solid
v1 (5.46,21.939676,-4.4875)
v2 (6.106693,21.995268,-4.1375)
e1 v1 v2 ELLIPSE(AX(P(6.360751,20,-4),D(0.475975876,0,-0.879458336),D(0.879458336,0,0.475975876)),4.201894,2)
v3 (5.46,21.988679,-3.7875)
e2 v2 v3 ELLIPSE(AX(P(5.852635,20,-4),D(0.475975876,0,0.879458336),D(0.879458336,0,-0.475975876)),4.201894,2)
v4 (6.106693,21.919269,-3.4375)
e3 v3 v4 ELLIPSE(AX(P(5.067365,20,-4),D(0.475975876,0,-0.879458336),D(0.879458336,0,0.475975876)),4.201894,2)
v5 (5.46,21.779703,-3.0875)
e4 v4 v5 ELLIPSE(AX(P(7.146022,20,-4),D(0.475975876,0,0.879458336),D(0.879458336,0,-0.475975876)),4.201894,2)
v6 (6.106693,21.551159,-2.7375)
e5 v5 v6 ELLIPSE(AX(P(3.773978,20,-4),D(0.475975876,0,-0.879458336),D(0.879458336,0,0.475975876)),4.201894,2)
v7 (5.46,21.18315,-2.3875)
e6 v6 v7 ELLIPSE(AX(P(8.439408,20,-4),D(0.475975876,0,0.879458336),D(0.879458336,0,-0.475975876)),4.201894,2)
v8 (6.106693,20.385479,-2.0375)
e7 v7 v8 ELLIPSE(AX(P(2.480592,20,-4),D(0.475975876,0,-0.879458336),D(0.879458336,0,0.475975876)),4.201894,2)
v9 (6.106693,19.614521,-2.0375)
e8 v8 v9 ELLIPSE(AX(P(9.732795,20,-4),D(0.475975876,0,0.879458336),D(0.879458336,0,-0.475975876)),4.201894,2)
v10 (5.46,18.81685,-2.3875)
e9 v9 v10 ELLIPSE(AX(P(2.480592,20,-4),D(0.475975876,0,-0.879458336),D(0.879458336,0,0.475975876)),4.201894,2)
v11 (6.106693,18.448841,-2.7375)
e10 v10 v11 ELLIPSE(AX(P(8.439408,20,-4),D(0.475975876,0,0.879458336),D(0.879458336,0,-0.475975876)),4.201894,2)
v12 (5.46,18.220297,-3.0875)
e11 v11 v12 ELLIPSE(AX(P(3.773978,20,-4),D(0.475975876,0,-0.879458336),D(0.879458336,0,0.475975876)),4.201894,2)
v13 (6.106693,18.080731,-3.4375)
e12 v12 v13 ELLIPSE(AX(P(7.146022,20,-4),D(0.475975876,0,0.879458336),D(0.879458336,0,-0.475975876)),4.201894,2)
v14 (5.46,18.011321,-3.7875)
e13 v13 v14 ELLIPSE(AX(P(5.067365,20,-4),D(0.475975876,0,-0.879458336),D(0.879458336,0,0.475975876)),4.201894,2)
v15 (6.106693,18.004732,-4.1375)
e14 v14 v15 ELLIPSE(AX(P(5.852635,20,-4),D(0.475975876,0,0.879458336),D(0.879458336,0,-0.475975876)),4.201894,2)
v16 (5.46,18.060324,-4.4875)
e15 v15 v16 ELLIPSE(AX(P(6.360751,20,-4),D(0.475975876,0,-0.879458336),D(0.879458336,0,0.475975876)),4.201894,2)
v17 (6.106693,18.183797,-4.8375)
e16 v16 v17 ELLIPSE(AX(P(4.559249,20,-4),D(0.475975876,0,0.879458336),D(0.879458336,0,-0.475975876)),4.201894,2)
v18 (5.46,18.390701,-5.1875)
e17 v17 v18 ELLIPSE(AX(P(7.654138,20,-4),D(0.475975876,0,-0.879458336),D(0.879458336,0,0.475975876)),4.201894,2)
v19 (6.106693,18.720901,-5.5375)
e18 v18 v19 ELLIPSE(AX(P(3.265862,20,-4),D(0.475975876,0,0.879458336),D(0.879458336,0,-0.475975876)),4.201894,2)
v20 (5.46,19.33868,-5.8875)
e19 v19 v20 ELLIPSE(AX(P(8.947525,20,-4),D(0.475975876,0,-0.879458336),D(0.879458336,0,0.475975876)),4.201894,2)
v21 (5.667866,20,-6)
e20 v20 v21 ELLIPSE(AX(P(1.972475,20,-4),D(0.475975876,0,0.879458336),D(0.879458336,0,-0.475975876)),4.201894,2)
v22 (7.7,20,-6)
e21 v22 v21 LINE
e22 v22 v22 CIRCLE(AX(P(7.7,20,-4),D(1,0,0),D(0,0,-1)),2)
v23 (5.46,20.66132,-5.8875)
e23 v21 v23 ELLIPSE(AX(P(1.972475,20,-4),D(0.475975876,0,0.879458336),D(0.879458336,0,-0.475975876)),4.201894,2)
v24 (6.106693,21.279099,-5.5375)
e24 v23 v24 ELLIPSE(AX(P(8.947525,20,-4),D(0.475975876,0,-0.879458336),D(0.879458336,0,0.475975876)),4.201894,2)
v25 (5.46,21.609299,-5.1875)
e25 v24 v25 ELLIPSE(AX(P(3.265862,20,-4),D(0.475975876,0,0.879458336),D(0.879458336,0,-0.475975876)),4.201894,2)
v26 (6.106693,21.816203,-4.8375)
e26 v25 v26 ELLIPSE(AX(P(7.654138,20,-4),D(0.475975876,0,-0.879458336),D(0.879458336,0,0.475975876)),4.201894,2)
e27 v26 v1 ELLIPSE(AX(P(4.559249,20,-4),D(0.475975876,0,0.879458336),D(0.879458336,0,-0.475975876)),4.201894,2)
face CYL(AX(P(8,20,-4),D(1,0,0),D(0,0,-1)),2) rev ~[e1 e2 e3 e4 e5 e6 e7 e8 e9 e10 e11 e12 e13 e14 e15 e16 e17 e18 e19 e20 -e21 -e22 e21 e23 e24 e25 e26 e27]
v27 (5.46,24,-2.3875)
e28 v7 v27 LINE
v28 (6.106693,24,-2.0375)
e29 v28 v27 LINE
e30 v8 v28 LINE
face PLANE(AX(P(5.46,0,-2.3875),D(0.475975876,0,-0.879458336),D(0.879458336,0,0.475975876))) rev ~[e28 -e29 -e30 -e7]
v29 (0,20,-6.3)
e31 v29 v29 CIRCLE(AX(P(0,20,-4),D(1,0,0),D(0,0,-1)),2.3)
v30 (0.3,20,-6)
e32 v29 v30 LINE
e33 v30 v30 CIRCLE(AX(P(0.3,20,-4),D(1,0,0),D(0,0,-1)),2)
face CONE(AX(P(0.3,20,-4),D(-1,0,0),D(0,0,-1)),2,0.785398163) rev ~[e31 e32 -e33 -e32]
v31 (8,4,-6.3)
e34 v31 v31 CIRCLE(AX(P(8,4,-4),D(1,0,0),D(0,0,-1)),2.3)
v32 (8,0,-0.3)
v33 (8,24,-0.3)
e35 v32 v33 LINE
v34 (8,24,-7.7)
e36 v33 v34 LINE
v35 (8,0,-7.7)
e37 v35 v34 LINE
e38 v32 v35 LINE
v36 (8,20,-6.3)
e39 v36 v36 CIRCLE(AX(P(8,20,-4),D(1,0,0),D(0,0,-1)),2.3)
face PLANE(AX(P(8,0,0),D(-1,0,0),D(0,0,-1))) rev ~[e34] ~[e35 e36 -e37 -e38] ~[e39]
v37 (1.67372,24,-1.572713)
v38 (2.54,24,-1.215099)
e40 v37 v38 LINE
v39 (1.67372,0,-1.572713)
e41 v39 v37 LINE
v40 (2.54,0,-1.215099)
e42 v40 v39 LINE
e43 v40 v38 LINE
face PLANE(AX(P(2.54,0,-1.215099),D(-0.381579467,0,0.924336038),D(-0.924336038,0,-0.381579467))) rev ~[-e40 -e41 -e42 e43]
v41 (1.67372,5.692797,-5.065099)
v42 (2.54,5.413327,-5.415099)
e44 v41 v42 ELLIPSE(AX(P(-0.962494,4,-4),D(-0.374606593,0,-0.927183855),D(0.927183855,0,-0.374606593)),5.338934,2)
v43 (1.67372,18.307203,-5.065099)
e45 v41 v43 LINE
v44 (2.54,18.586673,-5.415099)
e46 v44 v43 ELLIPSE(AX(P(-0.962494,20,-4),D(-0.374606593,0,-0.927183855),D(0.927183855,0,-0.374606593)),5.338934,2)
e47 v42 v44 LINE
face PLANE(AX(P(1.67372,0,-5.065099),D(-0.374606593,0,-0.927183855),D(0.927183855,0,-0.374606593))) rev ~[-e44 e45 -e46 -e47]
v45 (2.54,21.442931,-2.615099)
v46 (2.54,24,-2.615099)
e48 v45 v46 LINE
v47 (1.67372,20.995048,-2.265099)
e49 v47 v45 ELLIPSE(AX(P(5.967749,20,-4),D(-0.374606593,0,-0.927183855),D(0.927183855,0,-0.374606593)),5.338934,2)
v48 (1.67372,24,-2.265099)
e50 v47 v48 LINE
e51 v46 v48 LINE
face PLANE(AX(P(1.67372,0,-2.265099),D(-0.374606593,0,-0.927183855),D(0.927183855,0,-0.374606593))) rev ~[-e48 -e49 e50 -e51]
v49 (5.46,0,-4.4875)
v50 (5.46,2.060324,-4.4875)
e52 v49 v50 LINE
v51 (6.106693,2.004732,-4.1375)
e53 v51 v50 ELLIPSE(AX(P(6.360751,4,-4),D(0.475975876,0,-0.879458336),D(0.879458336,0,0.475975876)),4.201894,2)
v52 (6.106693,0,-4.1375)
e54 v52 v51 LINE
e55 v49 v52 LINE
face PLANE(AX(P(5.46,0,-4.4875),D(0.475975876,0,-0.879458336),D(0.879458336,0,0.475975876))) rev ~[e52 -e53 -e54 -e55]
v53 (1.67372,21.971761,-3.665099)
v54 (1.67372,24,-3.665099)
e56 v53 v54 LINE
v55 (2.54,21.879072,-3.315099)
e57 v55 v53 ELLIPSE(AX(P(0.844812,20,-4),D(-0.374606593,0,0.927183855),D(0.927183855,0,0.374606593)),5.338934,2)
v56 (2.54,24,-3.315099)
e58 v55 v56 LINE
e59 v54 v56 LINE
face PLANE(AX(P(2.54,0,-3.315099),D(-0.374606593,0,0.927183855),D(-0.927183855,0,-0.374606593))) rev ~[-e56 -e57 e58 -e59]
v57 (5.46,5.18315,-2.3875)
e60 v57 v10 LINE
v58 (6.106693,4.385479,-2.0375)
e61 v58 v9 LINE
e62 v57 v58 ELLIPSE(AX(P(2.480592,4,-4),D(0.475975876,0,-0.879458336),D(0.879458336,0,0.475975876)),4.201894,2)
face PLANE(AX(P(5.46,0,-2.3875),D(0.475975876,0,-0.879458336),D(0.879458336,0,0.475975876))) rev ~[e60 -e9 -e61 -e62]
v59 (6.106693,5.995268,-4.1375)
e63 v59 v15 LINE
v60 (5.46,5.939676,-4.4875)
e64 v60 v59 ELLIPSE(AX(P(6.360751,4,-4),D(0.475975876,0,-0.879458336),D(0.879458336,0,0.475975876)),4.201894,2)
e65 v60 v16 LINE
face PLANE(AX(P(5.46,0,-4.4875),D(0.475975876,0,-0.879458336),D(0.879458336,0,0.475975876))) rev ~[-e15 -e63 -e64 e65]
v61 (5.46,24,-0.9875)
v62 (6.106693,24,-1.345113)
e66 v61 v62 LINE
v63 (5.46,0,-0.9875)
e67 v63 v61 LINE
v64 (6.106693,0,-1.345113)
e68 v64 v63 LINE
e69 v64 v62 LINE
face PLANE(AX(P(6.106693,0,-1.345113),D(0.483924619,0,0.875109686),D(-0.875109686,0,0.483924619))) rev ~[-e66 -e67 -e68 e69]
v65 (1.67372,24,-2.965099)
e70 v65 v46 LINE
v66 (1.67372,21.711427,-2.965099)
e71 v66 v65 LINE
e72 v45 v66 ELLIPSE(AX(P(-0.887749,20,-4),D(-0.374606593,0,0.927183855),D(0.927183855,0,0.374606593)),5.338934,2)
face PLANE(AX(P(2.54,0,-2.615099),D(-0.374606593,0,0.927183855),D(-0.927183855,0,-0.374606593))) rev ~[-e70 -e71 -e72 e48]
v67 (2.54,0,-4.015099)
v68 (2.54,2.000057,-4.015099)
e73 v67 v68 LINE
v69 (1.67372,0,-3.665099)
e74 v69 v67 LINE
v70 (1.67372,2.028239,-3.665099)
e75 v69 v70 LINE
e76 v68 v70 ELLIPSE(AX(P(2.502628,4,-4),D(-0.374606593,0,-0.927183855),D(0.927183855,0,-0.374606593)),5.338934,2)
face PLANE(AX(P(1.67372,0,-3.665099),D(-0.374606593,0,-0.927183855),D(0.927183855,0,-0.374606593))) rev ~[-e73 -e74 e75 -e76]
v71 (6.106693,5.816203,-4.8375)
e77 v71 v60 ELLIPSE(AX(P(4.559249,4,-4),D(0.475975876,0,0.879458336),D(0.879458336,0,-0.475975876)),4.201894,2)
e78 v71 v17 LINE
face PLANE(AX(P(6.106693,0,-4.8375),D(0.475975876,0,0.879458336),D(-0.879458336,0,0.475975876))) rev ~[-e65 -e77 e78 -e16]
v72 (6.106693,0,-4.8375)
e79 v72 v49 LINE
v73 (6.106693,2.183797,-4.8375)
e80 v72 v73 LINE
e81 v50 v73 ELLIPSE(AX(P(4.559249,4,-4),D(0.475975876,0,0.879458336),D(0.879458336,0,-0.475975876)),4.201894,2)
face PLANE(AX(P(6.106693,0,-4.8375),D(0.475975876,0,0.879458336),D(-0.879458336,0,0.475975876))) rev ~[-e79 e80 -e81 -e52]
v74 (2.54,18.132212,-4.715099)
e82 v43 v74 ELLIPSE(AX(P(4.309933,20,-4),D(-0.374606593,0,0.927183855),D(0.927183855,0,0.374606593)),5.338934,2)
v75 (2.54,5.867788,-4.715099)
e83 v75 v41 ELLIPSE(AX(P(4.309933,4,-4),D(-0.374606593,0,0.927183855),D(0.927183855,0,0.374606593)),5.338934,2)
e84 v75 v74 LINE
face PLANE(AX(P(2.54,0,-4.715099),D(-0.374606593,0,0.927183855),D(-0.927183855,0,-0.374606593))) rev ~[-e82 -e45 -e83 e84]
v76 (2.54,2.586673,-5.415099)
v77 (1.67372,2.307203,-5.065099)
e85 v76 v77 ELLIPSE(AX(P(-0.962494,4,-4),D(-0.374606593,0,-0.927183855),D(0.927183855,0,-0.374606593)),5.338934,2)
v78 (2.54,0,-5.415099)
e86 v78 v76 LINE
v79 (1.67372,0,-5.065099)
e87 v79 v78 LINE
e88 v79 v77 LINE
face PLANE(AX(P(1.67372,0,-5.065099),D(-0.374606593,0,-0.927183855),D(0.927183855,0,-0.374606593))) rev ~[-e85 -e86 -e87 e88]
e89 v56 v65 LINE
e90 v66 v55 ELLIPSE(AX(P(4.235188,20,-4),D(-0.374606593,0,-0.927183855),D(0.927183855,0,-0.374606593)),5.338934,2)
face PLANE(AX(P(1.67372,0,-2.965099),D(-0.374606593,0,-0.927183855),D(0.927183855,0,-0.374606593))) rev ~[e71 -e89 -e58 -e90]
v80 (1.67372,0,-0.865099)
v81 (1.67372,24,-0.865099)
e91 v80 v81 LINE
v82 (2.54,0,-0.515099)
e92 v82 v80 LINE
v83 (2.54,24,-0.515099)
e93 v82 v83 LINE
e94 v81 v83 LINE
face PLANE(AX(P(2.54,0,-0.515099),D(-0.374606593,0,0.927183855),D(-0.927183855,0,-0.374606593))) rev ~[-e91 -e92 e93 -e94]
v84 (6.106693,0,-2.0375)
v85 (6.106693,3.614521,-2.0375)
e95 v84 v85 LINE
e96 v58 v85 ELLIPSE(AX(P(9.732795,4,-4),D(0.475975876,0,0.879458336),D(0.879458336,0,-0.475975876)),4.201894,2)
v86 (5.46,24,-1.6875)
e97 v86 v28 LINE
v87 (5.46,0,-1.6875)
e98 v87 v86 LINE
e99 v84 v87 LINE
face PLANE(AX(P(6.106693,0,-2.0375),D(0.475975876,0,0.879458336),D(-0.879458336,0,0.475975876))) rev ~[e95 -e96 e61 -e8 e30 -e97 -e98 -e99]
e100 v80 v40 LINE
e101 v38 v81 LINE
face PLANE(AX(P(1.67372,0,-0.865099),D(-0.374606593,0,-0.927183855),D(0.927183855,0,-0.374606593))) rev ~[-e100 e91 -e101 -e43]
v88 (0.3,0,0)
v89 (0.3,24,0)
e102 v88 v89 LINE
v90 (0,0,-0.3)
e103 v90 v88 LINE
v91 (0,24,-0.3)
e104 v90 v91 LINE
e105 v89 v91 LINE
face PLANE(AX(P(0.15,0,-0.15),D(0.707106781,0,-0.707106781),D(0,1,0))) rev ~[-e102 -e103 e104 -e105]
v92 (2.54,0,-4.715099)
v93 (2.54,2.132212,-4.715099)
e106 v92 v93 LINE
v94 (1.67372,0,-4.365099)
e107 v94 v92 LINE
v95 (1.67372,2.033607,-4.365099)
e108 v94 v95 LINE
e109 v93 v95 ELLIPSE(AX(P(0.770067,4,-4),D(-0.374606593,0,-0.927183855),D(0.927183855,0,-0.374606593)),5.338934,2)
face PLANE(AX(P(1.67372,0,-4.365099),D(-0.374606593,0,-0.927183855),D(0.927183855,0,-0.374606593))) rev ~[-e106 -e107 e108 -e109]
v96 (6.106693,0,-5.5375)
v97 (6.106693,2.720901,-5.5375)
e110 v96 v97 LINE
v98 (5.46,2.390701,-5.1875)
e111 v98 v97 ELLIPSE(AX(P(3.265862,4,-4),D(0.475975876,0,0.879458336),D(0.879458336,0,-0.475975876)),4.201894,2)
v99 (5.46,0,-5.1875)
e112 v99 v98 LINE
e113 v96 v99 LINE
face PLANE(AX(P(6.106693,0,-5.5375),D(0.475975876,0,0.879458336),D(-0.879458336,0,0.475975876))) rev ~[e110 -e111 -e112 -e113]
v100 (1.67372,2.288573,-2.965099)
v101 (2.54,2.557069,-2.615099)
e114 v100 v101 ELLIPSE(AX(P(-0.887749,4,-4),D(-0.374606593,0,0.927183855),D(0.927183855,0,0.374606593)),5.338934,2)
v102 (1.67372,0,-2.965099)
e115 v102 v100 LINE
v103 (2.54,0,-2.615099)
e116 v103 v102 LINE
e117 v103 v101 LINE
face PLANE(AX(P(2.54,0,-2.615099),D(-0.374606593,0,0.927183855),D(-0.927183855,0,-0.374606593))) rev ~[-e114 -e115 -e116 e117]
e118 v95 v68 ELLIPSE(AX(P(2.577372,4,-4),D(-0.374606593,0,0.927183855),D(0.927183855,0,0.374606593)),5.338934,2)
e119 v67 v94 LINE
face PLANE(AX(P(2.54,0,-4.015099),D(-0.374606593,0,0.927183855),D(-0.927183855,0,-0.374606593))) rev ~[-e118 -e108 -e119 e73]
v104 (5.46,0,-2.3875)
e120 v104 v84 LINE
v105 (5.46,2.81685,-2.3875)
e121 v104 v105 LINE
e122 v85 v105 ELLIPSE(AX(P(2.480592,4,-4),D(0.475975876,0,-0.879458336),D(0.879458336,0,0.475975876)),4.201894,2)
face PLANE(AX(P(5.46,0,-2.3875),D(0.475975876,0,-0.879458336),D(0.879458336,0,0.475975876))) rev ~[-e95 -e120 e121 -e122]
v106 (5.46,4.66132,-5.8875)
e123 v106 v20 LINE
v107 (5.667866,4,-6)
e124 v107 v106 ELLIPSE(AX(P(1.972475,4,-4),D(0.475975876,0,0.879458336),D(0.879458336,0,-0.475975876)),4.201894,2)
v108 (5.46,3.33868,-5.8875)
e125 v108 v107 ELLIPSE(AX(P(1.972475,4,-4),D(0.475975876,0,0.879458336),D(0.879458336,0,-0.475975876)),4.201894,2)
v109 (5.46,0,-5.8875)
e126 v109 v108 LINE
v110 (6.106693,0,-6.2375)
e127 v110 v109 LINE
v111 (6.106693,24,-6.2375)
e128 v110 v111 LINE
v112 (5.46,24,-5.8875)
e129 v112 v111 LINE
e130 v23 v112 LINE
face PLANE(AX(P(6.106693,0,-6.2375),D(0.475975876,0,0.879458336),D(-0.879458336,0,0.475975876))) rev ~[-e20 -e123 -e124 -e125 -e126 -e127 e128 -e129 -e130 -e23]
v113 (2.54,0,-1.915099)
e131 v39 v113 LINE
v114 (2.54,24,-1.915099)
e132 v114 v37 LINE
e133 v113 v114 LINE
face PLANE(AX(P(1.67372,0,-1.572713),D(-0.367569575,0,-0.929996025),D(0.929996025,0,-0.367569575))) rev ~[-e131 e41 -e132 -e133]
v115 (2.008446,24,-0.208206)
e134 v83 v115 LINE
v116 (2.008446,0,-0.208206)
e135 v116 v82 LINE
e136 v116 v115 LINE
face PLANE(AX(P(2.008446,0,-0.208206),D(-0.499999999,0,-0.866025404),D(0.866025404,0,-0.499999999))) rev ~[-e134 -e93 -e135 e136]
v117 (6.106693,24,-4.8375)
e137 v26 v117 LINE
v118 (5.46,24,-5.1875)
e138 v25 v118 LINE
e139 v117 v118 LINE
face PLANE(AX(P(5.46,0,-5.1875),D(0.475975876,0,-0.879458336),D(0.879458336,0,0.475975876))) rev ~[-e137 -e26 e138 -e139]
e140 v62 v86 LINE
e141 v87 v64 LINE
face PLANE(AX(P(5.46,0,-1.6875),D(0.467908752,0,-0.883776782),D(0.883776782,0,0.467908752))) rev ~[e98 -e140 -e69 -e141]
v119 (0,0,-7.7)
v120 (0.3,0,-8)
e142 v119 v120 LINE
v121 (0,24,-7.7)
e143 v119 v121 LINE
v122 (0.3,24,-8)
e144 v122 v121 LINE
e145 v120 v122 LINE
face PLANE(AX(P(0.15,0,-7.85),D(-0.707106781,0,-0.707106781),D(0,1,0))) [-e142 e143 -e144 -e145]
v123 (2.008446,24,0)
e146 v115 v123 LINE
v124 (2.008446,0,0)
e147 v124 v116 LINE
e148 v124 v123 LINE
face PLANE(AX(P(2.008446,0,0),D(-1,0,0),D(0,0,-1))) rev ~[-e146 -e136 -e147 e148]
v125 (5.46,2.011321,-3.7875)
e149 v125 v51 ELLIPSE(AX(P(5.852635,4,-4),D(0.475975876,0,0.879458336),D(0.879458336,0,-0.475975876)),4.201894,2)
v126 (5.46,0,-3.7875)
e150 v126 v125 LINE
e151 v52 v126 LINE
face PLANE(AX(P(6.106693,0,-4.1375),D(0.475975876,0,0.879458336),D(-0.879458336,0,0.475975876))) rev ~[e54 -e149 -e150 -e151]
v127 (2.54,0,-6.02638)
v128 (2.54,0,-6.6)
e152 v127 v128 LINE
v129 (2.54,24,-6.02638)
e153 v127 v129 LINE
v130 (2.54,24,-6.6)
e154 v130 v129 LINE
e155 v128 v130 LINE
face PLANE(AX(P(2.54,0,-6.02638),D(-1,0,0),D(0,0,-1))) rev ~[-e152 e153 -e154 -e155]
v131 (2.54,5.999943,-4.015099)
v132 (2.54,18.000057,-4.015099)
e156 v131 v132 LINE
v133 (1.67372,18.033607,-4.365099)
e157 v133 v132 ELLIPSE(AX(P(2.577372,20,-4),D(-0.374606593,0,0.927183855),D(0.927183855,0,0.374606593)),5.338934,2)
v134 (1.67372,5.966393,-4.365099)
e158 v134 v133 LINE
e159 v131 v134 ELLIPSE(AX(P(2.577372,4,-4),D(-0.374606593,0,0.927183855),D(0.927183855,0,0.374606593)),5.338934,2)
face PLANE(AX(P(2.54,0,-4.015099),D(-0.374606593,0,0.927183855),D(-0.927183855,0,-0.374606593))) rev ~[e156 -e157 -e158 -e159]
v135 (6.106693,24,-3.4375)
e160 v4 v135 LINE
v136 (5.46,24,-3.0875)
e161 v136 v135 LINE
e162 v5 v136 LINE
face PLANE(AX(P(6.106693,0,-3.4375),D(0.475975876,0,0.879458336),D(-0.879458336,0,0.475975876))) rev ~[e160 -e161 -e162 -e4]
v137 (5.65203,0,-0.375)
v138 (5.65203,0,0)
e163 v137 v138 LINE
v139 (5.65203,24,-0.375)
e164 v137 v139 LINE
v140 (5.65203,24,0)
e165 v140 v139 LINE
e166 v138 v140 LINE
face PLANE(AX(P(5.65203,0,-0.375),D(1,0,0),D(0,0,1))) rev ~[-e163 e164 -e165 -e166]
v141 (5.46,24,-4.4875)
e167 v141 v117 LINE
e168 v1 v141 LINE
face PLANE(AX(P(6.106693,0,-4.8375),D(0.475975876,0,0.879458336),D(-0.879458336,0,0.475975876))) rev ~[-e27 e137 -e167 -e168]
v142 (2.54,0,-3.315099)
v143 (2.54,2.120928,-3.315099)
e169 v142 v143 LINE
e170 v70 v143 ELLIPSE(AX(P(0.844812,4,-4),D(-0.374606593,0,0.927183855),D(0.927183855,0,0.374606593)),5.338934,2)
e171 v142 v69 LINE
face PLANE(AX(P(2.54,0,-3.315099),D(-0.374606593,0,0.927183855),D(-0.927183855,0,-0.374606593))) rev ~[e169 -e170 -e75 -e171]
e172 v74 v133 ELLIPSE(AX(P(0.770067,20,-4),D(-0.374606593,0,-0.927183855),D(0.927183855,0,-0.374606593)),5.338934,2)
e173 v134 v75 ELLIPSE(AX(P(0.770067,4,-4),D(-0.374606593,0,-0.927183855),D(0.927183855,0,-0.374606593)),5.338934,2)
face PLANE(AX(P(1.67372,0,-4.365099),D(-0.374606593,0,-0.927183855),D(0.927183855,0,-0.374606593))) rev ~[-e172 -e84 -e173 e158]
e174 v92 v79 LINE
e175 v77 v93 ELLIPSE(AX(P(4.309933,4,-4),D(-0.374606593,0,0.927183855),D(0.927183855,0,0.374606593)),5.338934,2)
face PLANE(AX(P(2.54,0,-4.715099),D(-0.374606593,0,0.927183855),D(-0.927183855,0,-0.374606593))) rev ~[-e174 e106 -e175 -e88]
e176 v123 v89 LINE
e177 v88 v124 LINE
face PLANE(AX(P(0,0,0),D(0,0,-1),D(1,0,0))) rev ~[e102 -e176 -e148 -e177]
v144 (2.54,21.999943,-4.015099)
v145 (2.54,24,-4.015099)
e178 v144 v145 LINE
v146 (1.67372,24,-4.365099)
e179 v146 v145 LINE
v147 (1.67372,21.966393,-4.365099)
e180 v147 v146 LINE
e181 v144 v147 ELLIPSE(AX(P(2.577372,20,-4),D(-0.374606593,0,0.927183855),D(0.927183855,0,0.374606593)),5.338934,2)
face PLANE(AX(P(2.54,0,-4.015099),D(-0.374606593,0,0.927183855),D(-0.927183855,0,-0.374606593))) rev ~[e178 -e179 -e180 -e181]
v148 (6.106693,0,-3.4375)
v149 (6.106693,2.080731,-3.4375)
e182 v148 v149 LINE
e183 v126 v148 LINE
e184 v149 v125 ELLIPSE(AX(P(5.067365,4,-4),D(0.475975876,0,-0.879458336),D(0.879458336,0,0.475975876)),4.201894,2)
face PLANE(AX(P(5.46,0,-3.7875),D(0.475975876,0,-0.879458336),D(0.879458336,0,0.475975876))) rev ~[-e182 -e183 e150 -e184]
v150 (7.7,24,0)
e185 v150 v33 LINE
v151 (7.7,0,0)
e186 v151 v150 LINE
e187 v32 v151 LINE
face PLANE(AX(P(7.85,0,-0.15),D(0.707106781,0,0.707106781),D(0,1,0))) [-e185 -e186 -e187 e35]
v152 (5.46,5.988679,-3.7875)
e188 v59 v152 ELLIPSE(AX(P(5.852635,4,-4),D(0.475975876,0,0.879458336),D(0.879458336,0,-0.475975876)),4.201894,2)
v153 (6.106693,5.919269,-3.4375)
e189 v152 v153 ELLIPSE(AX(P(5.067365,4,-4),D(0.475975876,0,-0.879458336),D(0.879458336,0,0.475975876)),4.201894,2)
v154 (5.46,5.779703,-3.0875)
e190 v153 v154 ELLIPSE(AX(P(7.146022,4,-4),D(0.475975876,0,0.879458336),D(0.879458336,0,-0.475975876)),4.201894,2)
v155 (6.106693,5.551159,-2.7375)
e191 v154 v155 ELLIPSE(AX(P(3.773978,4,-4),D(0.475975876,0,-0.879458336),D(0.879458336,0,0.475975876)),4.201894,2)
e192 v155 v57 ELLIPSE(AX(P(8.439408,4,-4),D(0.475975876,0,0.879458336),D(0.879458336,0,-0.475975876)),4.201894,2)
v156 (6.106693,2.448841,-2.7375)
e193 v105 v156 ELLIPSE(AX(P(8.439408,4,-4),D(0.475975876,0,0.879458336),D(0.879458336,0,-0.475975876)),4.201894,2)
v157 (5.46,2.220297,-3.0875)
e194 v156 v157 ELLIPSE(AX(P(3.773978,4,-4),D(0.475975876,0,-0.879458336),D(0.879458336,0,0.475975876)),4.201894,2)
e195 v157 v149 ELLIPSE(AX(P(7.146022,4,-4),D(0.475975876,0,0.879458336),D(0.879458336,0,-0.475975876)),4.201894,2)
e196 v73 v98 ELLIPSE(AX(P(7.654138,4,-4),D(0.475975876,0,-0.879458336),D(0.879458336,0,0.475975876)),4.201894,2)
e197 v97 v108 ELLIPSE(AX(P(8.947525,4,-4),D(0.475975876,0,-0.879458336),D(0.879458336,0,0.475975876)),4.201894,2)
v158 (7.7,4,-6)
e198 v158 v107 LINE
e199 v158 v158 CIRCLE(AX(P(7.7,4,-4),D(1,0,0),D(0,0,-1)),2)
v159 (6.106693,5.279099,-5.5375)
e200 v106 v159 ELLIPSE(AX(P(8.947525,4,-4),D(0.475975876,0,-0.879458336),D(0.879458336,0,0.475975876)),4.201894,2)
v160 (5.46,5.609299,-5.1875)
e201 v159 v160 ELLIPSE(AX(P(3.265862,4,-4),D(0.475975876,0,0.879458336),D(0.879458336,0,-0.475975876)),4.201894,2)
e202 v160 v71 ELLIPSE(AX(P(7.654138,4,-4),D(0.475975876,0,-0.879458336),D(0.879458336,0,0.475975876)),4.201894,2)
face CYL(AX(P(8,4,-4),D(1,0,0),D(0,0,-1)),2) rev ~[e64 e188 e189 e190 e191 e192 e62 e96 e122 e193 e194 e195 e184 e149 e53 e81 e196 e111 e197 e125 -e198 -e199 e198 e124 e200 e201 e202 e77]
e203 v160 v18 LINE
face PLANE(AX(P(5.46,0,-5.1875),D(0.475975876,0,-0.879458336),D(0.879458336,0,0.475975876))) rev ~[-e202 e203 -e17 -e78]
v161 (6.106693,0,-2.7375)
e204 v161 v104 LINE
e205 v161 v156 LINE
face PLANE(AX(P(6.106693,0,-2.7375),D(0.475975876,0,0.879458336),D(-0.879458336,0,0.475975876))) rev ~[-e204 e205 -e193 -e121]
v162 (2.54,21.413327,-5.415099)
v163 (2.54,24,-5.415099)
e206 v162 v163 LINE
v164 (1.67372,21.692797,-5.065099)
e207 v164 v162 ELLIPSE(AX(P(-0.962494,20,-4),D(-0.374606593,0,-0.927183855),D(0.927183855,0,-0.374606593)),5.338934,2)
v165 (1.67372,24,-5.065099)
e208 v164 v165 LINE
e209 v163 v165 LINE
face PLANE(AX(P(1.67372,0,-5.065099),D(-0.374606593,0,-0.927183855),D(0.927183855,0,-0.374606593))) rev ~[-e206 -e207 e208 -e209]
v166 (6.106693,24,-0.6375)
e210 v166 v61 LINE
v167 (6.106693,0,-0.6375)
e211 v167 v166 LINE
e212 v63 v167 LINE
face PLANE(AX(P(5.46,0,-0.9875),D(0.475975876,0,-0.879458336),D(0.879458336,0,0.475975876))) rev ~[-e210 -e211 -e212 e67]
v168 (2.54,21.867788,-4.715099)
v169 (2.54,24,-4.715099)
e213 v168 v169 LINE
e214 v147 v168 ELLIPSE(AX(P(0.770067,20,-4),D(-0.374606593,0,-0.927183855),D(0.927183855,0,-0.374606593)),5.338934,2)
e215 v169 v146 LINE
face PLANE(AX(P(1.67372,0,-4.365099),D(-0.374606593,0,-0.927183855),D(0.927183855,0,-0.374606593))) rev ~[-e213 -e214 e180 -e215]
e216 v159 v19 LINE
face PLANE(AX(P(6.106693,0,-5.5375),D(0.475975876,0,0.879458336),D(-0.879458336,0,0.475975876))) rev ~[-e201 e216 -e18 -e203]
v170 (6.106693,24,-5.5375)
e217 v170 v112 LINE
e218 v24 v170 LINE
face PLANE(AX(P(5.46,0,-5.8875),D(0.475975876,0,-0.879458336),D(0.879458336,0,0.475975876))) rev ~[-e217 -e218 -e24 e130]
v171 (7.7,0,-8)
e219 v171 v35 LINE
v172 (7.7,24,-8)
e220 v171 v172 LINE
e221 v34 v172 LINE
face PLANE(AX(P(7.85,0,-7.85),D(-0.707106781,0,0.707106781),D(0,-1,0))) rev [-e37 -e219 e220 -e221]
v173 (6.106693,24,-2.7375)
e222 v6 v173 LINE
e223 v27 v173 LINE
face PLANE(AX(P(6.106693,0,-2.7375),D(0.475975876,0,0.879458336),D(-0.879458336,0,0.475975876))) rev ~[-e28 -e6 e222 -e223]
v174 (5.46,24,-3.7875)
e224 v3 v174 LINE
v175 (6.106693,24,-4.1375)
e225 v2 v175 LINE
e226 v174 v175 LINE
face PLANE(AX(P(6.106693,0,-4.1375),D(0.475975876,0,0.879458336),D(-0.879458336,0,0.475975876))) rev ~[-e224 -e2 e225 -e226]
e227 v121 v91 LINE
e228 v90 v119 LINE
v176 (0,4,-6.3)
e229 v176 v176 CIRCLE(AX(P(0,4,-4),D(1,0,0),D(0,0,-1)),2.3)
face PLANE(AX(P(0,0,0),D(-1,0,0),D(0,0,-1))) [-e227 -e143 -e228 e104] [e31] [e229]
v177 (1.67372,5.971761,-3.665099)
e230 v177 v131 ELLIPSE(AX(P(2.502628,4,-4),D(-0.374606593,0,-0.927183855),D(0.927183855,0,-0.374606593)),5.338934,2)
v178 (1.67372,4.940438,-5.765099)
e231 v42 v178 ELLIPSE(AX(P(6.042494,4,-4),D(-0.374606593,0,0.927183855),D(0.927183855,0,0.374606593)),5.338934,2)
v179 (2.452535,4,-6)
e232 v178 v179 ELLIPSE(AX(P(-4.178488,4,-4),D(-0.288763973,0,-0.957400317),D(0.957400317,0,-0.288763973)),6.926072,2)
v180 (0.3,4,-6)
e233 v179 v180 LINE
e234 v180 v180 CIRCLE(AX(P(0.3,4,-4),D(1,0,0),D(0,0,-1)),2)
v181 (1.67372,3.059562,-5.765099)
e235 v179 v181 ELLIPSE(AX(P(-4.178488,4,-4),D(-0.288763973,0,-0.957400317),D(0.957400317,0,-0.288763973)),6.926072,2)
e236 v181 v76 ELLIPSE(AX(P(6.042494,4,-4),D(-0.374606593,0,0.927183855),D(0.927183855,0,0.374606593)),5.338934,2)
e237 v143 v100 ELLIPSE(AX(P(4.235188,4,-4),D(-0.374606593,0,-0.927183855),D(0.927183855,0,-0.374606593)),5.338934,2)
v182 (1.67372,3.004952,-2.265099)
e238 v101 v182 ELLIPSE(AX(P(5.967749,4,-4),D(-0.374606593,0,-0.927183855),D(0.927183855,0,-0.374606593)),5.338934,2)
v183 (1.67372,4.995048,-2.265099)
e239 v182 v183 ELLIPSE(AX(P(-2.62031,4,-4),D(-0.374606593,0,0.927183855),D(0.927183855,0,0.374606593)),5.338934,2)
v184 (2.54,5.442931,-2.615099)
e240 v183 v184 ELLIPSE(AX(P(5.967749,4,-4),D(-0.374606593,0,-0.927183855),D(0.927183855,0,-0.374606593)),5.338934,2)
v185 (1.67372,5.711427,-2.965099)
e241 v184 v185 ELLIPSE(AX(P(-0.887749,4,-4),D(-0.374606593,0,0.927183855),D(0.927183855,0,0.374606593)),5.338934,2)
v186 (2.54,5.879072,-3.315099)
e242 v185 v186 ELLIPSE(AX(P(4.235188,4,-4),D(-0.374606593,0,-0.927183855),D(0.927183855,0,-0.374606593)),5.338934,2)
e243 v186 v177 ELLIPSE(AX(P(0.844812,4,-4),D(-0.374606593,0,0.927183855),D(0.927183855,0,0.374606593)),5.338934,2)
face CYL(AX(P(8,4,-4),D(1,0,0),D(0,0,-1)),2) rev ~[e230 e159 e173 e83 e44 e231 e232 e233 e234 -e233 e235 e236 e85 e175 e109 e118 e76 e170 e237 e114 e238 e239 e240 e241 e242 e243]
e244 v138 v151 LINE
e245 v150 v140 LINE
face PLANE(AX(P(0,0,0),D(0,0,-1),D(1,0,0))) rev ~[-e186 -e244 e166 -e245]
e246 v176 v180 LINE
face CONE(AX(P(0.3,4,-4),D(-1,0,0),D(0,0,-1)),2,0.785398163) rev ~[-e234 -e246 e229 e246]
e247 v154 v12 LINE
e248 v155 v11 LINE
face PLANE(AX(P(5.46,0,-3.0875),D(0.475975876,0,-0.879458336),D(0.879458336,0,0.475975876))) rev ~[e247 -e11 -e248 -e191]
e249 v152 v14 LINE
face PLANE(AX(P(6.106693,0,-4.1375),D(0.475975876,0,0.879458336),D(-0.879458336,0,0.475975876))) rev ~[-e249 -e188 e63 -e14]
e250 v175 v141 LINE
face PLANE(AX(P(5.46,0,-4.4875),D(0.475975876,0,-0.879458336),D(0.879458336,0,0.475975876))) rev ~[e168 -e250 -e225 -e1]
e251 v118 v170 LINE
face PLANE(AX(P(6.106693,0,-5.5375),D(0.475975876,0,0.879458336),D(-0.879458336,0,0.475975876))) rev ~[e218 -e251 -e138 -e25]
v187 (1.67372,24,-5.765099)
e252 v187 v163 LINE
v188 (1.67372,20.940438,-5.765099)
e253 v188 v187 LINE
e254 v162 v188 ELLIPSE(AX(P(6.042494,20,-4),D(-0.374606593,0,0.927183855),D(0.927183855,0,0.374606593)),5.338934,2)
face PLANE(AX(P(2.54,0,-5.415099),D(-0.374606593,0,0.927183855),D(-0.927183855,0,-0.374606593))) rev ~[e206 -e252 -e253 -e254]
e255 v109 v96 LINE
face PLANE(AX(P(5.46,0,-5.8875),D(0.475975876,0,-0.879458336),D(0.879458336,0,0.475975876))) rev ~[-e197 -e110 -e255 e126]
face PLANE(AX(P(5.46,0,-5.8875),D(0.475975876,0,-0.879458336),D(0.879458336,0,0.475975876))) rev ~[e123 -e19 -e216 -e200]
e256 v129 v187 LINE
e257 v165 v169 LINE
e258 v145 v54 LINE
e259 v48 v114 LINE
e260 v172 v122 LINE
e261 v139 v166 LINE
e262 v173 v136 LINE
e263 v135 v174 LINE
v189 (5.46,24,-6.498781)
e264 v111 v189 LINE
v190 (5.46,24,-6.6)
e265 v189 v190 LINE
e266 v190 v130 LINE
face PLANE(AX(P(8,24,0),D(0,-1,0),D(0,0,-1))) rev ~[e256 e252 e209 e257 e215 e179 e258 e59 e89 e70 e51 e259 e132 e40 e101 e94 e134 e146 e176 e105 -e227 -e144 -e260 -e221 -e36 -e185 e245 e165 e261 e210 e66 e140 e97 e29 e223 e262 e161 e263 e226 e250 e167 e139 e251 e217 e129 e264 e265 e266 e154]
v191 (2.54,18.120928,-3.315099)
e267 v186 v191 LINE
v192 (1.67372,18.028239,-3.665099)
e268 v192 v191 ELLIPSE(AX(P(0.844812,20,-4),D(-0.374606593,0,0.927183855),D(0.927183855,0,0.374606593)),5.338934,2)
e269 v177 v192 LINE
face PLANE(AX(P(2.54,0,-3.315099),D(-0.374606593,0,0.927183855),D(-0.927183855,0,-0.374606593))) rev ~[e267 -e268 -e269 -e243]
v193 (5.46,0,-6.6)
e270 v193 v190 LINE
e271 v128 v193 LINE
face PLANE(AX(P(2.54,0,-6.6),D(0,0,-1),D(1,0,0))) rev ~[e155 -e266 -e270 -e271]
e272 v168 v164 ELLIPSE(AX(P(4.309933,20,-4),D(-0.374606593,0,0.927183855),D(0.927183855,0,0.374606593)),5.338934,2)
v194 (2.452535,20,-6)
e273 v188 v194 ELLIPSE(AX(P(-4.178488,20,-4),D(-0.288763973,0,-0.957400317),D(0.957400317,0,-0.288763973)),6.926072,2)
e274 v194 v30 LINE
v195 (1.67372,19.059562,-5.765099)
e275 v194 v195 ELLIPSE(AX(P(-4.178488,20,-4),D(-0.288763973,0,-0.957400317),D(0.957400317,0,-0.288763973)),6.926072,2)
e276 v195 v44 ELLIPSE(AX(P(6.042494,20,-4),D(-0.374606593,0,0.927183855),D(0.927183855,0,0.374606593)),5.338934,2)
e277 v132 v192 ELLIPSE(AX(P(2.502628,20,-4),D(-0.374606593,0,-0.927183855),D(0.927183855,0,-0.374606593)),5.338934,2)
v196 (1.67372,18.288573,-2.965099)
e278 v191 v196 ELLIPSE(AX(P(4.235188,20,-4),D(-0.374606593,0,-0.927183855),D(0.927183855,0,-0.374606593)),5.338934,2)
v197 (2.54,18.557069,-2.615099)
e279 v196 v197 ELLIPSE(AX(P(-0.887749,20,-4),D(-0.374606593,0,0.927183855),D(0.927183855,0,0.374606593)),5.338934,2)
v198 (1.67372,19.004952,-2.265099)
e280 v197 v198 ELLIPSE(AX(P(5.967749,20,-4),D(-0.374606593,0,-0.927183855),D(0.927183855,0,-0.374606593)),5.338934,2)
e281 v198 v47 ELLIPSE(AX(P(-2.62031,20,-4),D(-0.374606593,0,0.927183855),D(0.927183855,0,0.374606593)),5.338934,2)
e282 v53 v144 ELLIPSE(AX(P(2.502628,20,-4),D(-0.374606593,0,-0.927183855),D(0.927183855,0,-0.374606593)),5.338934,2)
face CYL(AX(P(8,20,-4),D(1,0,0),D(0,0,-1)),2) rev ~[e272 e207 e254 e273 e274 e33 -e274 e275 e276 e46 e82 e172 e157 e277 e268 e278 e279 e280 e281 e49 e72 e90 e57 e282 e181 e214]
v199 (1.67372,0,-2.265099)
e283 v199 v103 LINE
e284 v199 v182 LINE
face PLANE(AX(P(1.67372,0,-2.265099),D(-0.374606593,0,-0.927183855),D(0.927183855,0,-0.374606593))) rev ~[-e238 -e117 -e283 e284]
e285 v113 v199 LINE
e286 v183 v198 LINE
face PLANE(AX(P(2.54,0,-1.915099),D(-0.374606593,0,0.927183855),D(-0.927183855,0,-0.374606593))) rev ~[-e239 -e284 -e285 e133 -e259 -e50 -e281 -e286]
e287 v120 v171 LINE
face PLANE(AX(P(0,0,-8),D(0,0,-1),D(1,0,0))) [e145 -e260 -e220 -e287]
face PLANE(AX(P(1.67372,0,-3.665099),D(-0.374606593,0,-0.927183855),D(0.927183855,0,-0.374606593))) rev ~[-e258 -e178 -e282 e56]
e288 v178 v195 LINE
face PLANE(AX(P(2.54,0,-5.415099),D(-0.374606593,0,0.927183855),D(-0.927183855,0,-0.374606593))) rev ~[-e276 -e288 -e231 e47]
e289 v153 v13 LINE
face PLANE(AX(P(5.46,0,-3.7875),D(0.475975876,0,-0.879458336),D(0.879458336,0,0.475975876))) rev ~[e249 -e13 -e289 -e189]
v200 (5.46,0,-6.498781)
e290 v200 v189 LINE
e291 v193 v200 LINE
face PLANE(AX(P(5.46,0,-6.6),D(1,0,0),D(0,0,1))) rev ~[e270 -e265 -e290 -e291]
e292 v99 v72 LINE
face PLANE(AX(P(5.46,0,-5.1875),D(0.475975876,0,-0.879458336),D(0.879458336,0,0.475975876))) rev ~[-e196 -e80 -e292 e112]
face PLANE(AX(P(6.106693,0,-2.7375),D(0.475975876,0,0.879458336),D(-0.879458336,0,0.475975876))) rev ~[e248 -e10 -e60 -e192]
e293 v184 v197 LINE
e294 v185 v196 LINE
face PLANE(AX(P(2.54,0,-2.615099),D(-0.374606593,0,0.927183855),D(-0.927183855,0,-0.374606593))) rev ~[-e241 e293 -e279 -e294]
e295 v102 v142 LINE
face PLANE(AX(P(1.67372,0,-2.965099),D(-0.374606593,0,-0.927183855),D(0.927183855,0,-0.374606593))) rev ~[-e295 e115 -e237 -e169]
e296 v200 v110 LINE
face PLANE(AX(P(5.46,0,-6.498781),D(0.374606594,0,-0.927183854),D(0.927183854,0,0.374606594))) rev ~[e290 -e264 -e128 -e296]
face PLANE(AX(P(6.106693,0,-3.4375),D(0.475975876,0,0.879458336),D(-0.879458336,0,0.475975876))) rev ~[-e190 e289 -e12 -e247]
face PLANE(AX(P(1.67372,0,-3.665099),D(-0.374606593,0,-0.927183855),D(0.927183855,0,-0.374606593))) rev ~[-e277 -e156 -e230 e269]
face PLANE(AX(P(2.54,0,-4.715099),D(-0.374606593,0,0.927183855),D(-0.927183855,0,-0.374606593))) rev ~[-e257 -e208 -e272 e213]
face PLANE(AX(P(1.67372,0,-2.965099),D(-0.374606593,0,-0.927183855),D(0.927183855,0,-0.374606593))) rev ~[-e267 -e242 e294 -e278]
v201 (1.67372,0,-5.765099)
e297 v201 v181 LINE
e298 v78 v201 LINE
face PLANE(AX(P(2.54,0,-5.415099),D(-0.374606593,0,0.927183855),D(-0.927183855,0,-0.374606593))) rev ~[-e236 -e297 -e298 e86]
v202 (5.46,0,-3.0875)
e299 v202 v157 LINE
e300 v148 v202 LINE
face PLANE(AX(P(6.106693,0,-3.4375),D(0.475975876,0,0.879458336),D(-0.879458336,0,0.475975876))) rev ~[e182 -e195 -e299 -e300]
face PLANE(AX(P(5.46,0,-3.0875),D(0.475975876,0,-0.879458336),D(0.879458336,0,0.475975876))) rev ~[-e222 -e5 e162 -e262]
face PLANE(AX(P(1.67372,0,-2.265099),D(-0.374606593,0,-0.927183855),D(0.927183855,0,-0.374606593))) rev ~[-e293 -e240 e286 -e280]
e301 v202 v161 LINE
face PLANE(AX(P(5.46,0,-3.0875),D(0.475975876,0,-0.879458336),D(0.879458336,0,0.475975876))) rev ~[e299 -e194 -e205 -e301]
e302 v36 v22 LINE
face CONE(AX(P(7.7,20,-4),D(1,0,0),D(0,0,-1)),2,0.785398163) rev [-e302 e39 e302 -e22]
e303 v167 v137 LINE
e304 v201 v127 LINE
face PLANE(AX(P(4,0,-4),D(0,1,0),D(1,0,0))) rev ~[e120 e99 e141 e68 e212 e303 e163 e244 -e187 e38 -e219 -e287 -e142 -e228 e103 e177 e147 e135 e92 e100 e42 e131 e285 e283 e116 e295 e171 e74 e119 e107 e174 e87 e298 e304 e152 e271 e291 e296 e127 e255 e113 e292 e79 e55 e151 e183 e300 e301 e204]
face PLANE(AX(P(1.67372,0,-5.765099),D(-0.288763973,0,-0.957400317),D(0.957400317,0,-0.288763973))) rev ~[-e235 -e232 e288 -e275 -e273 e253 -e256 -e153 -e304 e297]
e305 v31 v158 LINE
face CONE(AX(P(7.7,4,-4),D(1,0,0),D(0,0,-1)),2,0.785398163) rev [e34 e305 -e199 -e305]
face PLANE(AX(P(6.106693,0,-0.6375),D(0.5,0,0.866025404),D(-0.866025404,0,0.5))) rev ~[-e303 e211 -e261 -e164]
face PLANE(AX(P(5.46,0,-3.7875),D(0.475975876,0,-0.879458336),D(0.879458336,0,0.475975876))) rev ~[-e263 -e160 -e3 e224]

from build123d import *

# Parameters (mm, degrees)
SKETCH1_W                  = 8
SKETCH1_H                  = 8
BOSS_EXTRUDE1_DEPTH        = 300
CUT_EXTRUDE1_DEPTH         = 301.213257535
SKETCH3_R                  = 2
CUT_EXTRUDE2_DEPTH         = 301.213257535
CHAMFER1_SIZE              = 0.3
CHAMFER2_SIZE              = 0.3
LPATTERN1_COUNT            = 19
LPATTERN1_PITCH            = 16
CHAMFER1_OF_LPATTERN1_SIZE = 0.3
SKETCH4_W                  = 8
SKETCH4_H                  = 276
CUT_EXTRUDE3_DEPTH         = 301.213257535


with BuildPart() as part:
    # Sketch1 → Boss-Extrude1 (new body)
    with BuildSketch(Plane(origin=(0, 0, 0), x_dir=(1, 0, 0), z_dir=(0, 1, 0))):
        with Locations((4, 4)):
            Rectangle(SKETCH1_W, SKETCH1_H)
    extrude(amount=BOSS_EXTRUDE1_DEPTH)

    # Sketch2 → Cut-Extrude1 (cut, through all)
    with BuildSketch(Plane.XZ):
        Polygon((5.652029979, 0), (2.008445554, 0), (2.008445554, -0.208206305), (2.54, -0.515099407), (1.673719601, -0.865099407), (2.54, -1.215099407), (1.673719601, -1.572712655), (2.54, -1.915099407), (1.673719601, -2.265099407), (2.54, -2.615099407), (1.673719601, -2.965099407), (2.54, -3.315099407), (1.673719601, -3.665099407), (2.54, -4.015099407), (1.673719601, -4.365099407), (2.54, -4.715099407), (1.673719601, -5.065099407), (2.54, -5.415099407), (1.673719601, -5.765099407), (2.54, -6.026380467), (2.54, -6.6), (5.46, -6.6), (5.46, -6.49878106), (6.106693316, -6.2375), (5.46, -5.8875), (6.106693316, -5.5375), (5.46, -5.1875), (6.106693316, -4.8375), (5.46, -4.4875), (6.106693316, -4.1375), (5.46, -3.7875), (6.106693316, -3.4375), (5.46, -3.0875), (6.106693316, -2.7375), (5.46, -2.3875), (6.106693316, -2.0375), (5.46, -1.6875), (6.106693316, -1.345113247), (5.46, -0.9875), (6.106693316, -0.6375), (5.652029979, -0.375), align=None)
    extrude(amount=-CUT_EXTRUDE1_DEPTH, mode=Mode.SUBTRACT)

    # Sketch3 → Cut-Extrude2 (cut, through all)
    with BuildSketch(Plane(origin=(8, 0, 0), x_dir=(0, 0, -1), z_dir=(1, 0, 0))):
        with Locations((4, 4)):
            Circle(SKETCH3_R)
    cut_extrude2 = extrude(amount=-CUT_EXTRUDE2_DEPTH, mode=Mode.SUBTRACT)

    # Chamfer1
    chamfer1_edges = [part.edges().sort_by_distance(p)[0] for p in [
        (0, 4, -2),
        (8, 4, -2),
    ]]
    chamfer(chamfer1_edges, length=CHAMFER1_SIZE)

    # Chamfer2
    chamfer2_edges = [part.edges().sort_by_distance(p)[0] for p in [
        (0, 150, -8),
        (8, 150, -8),
        (8, 150, 0),
        (0, 150, 0),
    ]]
    chamfer(chamfer2_edges, length=CHAMFER2_SIZE)

    # LPattern1: Cut-Extrude2 ×19
    with Locations(*[(0, i * LPATTERN1_PITCH, 0) for i in range(1, LPATTERN1_COUNT)]):
        add(cut_extrude2, mode=Mode.SUBTRACT)

    # Chamfer1 of LPattern1
    chamfer1_of_lpattern1_edges = [part.edges().sort_by_distance(p)[0] for p in [
        (0, 20, -2),
        (8, 20, -2),
        (0, 36, -2),
        (8, 36, -2),
        (0, 52, -2),
        (8, 52, -2),
        (0, 68, -2),
        (8, 68, -2),
        (0, 84, -2),
        (8, 84, -2),
        (0, 100, -2),
        (8, 100, -2),
        (0, 116, -2),
        (8, 116, -2),
        (0, 132, -2),
        (8, 132, -2),
        (0, 148, -2),
        (8, 148, -2),
        (0, 164, -2),
        (8, 164, -2),
        (0, 180, -2),
        (8, 180, -2),
        (0, 196, -2),
        (8, 196, -2),
        (0, 212, -2),
        (8, 212, -2),
        (0, 228, -2),
        (8, 228, -2),
        (0, 244, -2),
        (8, 244, -2),
        (0, 260, -2),
        (8, 260, -2),
        (0, 276, -2),
        (8, 276, -2),
        (0, 292, -2),
        (8, 292, -2),
    ]]
    chamfer(chamfer1_of_lpattern1_edges, length=CHAMFER1_OF_LPATTERN1_SIZE)

    # Sketch4 → Cut-Extrude3 (cut, through all)
    with BuildSketch(Plane(origin=(8, 0, 0), x_dir=(0, 0, -1), z_dir=(1, 0, 0))):
        with Locations((4, 162)):
            Rectangle(SKETCH4_W, SKETCH4_H)
    extrude(amount=-CUT_EXTRUDE3_DEPTH, mode=Mode.SUBTRACT)


solid = part.part
